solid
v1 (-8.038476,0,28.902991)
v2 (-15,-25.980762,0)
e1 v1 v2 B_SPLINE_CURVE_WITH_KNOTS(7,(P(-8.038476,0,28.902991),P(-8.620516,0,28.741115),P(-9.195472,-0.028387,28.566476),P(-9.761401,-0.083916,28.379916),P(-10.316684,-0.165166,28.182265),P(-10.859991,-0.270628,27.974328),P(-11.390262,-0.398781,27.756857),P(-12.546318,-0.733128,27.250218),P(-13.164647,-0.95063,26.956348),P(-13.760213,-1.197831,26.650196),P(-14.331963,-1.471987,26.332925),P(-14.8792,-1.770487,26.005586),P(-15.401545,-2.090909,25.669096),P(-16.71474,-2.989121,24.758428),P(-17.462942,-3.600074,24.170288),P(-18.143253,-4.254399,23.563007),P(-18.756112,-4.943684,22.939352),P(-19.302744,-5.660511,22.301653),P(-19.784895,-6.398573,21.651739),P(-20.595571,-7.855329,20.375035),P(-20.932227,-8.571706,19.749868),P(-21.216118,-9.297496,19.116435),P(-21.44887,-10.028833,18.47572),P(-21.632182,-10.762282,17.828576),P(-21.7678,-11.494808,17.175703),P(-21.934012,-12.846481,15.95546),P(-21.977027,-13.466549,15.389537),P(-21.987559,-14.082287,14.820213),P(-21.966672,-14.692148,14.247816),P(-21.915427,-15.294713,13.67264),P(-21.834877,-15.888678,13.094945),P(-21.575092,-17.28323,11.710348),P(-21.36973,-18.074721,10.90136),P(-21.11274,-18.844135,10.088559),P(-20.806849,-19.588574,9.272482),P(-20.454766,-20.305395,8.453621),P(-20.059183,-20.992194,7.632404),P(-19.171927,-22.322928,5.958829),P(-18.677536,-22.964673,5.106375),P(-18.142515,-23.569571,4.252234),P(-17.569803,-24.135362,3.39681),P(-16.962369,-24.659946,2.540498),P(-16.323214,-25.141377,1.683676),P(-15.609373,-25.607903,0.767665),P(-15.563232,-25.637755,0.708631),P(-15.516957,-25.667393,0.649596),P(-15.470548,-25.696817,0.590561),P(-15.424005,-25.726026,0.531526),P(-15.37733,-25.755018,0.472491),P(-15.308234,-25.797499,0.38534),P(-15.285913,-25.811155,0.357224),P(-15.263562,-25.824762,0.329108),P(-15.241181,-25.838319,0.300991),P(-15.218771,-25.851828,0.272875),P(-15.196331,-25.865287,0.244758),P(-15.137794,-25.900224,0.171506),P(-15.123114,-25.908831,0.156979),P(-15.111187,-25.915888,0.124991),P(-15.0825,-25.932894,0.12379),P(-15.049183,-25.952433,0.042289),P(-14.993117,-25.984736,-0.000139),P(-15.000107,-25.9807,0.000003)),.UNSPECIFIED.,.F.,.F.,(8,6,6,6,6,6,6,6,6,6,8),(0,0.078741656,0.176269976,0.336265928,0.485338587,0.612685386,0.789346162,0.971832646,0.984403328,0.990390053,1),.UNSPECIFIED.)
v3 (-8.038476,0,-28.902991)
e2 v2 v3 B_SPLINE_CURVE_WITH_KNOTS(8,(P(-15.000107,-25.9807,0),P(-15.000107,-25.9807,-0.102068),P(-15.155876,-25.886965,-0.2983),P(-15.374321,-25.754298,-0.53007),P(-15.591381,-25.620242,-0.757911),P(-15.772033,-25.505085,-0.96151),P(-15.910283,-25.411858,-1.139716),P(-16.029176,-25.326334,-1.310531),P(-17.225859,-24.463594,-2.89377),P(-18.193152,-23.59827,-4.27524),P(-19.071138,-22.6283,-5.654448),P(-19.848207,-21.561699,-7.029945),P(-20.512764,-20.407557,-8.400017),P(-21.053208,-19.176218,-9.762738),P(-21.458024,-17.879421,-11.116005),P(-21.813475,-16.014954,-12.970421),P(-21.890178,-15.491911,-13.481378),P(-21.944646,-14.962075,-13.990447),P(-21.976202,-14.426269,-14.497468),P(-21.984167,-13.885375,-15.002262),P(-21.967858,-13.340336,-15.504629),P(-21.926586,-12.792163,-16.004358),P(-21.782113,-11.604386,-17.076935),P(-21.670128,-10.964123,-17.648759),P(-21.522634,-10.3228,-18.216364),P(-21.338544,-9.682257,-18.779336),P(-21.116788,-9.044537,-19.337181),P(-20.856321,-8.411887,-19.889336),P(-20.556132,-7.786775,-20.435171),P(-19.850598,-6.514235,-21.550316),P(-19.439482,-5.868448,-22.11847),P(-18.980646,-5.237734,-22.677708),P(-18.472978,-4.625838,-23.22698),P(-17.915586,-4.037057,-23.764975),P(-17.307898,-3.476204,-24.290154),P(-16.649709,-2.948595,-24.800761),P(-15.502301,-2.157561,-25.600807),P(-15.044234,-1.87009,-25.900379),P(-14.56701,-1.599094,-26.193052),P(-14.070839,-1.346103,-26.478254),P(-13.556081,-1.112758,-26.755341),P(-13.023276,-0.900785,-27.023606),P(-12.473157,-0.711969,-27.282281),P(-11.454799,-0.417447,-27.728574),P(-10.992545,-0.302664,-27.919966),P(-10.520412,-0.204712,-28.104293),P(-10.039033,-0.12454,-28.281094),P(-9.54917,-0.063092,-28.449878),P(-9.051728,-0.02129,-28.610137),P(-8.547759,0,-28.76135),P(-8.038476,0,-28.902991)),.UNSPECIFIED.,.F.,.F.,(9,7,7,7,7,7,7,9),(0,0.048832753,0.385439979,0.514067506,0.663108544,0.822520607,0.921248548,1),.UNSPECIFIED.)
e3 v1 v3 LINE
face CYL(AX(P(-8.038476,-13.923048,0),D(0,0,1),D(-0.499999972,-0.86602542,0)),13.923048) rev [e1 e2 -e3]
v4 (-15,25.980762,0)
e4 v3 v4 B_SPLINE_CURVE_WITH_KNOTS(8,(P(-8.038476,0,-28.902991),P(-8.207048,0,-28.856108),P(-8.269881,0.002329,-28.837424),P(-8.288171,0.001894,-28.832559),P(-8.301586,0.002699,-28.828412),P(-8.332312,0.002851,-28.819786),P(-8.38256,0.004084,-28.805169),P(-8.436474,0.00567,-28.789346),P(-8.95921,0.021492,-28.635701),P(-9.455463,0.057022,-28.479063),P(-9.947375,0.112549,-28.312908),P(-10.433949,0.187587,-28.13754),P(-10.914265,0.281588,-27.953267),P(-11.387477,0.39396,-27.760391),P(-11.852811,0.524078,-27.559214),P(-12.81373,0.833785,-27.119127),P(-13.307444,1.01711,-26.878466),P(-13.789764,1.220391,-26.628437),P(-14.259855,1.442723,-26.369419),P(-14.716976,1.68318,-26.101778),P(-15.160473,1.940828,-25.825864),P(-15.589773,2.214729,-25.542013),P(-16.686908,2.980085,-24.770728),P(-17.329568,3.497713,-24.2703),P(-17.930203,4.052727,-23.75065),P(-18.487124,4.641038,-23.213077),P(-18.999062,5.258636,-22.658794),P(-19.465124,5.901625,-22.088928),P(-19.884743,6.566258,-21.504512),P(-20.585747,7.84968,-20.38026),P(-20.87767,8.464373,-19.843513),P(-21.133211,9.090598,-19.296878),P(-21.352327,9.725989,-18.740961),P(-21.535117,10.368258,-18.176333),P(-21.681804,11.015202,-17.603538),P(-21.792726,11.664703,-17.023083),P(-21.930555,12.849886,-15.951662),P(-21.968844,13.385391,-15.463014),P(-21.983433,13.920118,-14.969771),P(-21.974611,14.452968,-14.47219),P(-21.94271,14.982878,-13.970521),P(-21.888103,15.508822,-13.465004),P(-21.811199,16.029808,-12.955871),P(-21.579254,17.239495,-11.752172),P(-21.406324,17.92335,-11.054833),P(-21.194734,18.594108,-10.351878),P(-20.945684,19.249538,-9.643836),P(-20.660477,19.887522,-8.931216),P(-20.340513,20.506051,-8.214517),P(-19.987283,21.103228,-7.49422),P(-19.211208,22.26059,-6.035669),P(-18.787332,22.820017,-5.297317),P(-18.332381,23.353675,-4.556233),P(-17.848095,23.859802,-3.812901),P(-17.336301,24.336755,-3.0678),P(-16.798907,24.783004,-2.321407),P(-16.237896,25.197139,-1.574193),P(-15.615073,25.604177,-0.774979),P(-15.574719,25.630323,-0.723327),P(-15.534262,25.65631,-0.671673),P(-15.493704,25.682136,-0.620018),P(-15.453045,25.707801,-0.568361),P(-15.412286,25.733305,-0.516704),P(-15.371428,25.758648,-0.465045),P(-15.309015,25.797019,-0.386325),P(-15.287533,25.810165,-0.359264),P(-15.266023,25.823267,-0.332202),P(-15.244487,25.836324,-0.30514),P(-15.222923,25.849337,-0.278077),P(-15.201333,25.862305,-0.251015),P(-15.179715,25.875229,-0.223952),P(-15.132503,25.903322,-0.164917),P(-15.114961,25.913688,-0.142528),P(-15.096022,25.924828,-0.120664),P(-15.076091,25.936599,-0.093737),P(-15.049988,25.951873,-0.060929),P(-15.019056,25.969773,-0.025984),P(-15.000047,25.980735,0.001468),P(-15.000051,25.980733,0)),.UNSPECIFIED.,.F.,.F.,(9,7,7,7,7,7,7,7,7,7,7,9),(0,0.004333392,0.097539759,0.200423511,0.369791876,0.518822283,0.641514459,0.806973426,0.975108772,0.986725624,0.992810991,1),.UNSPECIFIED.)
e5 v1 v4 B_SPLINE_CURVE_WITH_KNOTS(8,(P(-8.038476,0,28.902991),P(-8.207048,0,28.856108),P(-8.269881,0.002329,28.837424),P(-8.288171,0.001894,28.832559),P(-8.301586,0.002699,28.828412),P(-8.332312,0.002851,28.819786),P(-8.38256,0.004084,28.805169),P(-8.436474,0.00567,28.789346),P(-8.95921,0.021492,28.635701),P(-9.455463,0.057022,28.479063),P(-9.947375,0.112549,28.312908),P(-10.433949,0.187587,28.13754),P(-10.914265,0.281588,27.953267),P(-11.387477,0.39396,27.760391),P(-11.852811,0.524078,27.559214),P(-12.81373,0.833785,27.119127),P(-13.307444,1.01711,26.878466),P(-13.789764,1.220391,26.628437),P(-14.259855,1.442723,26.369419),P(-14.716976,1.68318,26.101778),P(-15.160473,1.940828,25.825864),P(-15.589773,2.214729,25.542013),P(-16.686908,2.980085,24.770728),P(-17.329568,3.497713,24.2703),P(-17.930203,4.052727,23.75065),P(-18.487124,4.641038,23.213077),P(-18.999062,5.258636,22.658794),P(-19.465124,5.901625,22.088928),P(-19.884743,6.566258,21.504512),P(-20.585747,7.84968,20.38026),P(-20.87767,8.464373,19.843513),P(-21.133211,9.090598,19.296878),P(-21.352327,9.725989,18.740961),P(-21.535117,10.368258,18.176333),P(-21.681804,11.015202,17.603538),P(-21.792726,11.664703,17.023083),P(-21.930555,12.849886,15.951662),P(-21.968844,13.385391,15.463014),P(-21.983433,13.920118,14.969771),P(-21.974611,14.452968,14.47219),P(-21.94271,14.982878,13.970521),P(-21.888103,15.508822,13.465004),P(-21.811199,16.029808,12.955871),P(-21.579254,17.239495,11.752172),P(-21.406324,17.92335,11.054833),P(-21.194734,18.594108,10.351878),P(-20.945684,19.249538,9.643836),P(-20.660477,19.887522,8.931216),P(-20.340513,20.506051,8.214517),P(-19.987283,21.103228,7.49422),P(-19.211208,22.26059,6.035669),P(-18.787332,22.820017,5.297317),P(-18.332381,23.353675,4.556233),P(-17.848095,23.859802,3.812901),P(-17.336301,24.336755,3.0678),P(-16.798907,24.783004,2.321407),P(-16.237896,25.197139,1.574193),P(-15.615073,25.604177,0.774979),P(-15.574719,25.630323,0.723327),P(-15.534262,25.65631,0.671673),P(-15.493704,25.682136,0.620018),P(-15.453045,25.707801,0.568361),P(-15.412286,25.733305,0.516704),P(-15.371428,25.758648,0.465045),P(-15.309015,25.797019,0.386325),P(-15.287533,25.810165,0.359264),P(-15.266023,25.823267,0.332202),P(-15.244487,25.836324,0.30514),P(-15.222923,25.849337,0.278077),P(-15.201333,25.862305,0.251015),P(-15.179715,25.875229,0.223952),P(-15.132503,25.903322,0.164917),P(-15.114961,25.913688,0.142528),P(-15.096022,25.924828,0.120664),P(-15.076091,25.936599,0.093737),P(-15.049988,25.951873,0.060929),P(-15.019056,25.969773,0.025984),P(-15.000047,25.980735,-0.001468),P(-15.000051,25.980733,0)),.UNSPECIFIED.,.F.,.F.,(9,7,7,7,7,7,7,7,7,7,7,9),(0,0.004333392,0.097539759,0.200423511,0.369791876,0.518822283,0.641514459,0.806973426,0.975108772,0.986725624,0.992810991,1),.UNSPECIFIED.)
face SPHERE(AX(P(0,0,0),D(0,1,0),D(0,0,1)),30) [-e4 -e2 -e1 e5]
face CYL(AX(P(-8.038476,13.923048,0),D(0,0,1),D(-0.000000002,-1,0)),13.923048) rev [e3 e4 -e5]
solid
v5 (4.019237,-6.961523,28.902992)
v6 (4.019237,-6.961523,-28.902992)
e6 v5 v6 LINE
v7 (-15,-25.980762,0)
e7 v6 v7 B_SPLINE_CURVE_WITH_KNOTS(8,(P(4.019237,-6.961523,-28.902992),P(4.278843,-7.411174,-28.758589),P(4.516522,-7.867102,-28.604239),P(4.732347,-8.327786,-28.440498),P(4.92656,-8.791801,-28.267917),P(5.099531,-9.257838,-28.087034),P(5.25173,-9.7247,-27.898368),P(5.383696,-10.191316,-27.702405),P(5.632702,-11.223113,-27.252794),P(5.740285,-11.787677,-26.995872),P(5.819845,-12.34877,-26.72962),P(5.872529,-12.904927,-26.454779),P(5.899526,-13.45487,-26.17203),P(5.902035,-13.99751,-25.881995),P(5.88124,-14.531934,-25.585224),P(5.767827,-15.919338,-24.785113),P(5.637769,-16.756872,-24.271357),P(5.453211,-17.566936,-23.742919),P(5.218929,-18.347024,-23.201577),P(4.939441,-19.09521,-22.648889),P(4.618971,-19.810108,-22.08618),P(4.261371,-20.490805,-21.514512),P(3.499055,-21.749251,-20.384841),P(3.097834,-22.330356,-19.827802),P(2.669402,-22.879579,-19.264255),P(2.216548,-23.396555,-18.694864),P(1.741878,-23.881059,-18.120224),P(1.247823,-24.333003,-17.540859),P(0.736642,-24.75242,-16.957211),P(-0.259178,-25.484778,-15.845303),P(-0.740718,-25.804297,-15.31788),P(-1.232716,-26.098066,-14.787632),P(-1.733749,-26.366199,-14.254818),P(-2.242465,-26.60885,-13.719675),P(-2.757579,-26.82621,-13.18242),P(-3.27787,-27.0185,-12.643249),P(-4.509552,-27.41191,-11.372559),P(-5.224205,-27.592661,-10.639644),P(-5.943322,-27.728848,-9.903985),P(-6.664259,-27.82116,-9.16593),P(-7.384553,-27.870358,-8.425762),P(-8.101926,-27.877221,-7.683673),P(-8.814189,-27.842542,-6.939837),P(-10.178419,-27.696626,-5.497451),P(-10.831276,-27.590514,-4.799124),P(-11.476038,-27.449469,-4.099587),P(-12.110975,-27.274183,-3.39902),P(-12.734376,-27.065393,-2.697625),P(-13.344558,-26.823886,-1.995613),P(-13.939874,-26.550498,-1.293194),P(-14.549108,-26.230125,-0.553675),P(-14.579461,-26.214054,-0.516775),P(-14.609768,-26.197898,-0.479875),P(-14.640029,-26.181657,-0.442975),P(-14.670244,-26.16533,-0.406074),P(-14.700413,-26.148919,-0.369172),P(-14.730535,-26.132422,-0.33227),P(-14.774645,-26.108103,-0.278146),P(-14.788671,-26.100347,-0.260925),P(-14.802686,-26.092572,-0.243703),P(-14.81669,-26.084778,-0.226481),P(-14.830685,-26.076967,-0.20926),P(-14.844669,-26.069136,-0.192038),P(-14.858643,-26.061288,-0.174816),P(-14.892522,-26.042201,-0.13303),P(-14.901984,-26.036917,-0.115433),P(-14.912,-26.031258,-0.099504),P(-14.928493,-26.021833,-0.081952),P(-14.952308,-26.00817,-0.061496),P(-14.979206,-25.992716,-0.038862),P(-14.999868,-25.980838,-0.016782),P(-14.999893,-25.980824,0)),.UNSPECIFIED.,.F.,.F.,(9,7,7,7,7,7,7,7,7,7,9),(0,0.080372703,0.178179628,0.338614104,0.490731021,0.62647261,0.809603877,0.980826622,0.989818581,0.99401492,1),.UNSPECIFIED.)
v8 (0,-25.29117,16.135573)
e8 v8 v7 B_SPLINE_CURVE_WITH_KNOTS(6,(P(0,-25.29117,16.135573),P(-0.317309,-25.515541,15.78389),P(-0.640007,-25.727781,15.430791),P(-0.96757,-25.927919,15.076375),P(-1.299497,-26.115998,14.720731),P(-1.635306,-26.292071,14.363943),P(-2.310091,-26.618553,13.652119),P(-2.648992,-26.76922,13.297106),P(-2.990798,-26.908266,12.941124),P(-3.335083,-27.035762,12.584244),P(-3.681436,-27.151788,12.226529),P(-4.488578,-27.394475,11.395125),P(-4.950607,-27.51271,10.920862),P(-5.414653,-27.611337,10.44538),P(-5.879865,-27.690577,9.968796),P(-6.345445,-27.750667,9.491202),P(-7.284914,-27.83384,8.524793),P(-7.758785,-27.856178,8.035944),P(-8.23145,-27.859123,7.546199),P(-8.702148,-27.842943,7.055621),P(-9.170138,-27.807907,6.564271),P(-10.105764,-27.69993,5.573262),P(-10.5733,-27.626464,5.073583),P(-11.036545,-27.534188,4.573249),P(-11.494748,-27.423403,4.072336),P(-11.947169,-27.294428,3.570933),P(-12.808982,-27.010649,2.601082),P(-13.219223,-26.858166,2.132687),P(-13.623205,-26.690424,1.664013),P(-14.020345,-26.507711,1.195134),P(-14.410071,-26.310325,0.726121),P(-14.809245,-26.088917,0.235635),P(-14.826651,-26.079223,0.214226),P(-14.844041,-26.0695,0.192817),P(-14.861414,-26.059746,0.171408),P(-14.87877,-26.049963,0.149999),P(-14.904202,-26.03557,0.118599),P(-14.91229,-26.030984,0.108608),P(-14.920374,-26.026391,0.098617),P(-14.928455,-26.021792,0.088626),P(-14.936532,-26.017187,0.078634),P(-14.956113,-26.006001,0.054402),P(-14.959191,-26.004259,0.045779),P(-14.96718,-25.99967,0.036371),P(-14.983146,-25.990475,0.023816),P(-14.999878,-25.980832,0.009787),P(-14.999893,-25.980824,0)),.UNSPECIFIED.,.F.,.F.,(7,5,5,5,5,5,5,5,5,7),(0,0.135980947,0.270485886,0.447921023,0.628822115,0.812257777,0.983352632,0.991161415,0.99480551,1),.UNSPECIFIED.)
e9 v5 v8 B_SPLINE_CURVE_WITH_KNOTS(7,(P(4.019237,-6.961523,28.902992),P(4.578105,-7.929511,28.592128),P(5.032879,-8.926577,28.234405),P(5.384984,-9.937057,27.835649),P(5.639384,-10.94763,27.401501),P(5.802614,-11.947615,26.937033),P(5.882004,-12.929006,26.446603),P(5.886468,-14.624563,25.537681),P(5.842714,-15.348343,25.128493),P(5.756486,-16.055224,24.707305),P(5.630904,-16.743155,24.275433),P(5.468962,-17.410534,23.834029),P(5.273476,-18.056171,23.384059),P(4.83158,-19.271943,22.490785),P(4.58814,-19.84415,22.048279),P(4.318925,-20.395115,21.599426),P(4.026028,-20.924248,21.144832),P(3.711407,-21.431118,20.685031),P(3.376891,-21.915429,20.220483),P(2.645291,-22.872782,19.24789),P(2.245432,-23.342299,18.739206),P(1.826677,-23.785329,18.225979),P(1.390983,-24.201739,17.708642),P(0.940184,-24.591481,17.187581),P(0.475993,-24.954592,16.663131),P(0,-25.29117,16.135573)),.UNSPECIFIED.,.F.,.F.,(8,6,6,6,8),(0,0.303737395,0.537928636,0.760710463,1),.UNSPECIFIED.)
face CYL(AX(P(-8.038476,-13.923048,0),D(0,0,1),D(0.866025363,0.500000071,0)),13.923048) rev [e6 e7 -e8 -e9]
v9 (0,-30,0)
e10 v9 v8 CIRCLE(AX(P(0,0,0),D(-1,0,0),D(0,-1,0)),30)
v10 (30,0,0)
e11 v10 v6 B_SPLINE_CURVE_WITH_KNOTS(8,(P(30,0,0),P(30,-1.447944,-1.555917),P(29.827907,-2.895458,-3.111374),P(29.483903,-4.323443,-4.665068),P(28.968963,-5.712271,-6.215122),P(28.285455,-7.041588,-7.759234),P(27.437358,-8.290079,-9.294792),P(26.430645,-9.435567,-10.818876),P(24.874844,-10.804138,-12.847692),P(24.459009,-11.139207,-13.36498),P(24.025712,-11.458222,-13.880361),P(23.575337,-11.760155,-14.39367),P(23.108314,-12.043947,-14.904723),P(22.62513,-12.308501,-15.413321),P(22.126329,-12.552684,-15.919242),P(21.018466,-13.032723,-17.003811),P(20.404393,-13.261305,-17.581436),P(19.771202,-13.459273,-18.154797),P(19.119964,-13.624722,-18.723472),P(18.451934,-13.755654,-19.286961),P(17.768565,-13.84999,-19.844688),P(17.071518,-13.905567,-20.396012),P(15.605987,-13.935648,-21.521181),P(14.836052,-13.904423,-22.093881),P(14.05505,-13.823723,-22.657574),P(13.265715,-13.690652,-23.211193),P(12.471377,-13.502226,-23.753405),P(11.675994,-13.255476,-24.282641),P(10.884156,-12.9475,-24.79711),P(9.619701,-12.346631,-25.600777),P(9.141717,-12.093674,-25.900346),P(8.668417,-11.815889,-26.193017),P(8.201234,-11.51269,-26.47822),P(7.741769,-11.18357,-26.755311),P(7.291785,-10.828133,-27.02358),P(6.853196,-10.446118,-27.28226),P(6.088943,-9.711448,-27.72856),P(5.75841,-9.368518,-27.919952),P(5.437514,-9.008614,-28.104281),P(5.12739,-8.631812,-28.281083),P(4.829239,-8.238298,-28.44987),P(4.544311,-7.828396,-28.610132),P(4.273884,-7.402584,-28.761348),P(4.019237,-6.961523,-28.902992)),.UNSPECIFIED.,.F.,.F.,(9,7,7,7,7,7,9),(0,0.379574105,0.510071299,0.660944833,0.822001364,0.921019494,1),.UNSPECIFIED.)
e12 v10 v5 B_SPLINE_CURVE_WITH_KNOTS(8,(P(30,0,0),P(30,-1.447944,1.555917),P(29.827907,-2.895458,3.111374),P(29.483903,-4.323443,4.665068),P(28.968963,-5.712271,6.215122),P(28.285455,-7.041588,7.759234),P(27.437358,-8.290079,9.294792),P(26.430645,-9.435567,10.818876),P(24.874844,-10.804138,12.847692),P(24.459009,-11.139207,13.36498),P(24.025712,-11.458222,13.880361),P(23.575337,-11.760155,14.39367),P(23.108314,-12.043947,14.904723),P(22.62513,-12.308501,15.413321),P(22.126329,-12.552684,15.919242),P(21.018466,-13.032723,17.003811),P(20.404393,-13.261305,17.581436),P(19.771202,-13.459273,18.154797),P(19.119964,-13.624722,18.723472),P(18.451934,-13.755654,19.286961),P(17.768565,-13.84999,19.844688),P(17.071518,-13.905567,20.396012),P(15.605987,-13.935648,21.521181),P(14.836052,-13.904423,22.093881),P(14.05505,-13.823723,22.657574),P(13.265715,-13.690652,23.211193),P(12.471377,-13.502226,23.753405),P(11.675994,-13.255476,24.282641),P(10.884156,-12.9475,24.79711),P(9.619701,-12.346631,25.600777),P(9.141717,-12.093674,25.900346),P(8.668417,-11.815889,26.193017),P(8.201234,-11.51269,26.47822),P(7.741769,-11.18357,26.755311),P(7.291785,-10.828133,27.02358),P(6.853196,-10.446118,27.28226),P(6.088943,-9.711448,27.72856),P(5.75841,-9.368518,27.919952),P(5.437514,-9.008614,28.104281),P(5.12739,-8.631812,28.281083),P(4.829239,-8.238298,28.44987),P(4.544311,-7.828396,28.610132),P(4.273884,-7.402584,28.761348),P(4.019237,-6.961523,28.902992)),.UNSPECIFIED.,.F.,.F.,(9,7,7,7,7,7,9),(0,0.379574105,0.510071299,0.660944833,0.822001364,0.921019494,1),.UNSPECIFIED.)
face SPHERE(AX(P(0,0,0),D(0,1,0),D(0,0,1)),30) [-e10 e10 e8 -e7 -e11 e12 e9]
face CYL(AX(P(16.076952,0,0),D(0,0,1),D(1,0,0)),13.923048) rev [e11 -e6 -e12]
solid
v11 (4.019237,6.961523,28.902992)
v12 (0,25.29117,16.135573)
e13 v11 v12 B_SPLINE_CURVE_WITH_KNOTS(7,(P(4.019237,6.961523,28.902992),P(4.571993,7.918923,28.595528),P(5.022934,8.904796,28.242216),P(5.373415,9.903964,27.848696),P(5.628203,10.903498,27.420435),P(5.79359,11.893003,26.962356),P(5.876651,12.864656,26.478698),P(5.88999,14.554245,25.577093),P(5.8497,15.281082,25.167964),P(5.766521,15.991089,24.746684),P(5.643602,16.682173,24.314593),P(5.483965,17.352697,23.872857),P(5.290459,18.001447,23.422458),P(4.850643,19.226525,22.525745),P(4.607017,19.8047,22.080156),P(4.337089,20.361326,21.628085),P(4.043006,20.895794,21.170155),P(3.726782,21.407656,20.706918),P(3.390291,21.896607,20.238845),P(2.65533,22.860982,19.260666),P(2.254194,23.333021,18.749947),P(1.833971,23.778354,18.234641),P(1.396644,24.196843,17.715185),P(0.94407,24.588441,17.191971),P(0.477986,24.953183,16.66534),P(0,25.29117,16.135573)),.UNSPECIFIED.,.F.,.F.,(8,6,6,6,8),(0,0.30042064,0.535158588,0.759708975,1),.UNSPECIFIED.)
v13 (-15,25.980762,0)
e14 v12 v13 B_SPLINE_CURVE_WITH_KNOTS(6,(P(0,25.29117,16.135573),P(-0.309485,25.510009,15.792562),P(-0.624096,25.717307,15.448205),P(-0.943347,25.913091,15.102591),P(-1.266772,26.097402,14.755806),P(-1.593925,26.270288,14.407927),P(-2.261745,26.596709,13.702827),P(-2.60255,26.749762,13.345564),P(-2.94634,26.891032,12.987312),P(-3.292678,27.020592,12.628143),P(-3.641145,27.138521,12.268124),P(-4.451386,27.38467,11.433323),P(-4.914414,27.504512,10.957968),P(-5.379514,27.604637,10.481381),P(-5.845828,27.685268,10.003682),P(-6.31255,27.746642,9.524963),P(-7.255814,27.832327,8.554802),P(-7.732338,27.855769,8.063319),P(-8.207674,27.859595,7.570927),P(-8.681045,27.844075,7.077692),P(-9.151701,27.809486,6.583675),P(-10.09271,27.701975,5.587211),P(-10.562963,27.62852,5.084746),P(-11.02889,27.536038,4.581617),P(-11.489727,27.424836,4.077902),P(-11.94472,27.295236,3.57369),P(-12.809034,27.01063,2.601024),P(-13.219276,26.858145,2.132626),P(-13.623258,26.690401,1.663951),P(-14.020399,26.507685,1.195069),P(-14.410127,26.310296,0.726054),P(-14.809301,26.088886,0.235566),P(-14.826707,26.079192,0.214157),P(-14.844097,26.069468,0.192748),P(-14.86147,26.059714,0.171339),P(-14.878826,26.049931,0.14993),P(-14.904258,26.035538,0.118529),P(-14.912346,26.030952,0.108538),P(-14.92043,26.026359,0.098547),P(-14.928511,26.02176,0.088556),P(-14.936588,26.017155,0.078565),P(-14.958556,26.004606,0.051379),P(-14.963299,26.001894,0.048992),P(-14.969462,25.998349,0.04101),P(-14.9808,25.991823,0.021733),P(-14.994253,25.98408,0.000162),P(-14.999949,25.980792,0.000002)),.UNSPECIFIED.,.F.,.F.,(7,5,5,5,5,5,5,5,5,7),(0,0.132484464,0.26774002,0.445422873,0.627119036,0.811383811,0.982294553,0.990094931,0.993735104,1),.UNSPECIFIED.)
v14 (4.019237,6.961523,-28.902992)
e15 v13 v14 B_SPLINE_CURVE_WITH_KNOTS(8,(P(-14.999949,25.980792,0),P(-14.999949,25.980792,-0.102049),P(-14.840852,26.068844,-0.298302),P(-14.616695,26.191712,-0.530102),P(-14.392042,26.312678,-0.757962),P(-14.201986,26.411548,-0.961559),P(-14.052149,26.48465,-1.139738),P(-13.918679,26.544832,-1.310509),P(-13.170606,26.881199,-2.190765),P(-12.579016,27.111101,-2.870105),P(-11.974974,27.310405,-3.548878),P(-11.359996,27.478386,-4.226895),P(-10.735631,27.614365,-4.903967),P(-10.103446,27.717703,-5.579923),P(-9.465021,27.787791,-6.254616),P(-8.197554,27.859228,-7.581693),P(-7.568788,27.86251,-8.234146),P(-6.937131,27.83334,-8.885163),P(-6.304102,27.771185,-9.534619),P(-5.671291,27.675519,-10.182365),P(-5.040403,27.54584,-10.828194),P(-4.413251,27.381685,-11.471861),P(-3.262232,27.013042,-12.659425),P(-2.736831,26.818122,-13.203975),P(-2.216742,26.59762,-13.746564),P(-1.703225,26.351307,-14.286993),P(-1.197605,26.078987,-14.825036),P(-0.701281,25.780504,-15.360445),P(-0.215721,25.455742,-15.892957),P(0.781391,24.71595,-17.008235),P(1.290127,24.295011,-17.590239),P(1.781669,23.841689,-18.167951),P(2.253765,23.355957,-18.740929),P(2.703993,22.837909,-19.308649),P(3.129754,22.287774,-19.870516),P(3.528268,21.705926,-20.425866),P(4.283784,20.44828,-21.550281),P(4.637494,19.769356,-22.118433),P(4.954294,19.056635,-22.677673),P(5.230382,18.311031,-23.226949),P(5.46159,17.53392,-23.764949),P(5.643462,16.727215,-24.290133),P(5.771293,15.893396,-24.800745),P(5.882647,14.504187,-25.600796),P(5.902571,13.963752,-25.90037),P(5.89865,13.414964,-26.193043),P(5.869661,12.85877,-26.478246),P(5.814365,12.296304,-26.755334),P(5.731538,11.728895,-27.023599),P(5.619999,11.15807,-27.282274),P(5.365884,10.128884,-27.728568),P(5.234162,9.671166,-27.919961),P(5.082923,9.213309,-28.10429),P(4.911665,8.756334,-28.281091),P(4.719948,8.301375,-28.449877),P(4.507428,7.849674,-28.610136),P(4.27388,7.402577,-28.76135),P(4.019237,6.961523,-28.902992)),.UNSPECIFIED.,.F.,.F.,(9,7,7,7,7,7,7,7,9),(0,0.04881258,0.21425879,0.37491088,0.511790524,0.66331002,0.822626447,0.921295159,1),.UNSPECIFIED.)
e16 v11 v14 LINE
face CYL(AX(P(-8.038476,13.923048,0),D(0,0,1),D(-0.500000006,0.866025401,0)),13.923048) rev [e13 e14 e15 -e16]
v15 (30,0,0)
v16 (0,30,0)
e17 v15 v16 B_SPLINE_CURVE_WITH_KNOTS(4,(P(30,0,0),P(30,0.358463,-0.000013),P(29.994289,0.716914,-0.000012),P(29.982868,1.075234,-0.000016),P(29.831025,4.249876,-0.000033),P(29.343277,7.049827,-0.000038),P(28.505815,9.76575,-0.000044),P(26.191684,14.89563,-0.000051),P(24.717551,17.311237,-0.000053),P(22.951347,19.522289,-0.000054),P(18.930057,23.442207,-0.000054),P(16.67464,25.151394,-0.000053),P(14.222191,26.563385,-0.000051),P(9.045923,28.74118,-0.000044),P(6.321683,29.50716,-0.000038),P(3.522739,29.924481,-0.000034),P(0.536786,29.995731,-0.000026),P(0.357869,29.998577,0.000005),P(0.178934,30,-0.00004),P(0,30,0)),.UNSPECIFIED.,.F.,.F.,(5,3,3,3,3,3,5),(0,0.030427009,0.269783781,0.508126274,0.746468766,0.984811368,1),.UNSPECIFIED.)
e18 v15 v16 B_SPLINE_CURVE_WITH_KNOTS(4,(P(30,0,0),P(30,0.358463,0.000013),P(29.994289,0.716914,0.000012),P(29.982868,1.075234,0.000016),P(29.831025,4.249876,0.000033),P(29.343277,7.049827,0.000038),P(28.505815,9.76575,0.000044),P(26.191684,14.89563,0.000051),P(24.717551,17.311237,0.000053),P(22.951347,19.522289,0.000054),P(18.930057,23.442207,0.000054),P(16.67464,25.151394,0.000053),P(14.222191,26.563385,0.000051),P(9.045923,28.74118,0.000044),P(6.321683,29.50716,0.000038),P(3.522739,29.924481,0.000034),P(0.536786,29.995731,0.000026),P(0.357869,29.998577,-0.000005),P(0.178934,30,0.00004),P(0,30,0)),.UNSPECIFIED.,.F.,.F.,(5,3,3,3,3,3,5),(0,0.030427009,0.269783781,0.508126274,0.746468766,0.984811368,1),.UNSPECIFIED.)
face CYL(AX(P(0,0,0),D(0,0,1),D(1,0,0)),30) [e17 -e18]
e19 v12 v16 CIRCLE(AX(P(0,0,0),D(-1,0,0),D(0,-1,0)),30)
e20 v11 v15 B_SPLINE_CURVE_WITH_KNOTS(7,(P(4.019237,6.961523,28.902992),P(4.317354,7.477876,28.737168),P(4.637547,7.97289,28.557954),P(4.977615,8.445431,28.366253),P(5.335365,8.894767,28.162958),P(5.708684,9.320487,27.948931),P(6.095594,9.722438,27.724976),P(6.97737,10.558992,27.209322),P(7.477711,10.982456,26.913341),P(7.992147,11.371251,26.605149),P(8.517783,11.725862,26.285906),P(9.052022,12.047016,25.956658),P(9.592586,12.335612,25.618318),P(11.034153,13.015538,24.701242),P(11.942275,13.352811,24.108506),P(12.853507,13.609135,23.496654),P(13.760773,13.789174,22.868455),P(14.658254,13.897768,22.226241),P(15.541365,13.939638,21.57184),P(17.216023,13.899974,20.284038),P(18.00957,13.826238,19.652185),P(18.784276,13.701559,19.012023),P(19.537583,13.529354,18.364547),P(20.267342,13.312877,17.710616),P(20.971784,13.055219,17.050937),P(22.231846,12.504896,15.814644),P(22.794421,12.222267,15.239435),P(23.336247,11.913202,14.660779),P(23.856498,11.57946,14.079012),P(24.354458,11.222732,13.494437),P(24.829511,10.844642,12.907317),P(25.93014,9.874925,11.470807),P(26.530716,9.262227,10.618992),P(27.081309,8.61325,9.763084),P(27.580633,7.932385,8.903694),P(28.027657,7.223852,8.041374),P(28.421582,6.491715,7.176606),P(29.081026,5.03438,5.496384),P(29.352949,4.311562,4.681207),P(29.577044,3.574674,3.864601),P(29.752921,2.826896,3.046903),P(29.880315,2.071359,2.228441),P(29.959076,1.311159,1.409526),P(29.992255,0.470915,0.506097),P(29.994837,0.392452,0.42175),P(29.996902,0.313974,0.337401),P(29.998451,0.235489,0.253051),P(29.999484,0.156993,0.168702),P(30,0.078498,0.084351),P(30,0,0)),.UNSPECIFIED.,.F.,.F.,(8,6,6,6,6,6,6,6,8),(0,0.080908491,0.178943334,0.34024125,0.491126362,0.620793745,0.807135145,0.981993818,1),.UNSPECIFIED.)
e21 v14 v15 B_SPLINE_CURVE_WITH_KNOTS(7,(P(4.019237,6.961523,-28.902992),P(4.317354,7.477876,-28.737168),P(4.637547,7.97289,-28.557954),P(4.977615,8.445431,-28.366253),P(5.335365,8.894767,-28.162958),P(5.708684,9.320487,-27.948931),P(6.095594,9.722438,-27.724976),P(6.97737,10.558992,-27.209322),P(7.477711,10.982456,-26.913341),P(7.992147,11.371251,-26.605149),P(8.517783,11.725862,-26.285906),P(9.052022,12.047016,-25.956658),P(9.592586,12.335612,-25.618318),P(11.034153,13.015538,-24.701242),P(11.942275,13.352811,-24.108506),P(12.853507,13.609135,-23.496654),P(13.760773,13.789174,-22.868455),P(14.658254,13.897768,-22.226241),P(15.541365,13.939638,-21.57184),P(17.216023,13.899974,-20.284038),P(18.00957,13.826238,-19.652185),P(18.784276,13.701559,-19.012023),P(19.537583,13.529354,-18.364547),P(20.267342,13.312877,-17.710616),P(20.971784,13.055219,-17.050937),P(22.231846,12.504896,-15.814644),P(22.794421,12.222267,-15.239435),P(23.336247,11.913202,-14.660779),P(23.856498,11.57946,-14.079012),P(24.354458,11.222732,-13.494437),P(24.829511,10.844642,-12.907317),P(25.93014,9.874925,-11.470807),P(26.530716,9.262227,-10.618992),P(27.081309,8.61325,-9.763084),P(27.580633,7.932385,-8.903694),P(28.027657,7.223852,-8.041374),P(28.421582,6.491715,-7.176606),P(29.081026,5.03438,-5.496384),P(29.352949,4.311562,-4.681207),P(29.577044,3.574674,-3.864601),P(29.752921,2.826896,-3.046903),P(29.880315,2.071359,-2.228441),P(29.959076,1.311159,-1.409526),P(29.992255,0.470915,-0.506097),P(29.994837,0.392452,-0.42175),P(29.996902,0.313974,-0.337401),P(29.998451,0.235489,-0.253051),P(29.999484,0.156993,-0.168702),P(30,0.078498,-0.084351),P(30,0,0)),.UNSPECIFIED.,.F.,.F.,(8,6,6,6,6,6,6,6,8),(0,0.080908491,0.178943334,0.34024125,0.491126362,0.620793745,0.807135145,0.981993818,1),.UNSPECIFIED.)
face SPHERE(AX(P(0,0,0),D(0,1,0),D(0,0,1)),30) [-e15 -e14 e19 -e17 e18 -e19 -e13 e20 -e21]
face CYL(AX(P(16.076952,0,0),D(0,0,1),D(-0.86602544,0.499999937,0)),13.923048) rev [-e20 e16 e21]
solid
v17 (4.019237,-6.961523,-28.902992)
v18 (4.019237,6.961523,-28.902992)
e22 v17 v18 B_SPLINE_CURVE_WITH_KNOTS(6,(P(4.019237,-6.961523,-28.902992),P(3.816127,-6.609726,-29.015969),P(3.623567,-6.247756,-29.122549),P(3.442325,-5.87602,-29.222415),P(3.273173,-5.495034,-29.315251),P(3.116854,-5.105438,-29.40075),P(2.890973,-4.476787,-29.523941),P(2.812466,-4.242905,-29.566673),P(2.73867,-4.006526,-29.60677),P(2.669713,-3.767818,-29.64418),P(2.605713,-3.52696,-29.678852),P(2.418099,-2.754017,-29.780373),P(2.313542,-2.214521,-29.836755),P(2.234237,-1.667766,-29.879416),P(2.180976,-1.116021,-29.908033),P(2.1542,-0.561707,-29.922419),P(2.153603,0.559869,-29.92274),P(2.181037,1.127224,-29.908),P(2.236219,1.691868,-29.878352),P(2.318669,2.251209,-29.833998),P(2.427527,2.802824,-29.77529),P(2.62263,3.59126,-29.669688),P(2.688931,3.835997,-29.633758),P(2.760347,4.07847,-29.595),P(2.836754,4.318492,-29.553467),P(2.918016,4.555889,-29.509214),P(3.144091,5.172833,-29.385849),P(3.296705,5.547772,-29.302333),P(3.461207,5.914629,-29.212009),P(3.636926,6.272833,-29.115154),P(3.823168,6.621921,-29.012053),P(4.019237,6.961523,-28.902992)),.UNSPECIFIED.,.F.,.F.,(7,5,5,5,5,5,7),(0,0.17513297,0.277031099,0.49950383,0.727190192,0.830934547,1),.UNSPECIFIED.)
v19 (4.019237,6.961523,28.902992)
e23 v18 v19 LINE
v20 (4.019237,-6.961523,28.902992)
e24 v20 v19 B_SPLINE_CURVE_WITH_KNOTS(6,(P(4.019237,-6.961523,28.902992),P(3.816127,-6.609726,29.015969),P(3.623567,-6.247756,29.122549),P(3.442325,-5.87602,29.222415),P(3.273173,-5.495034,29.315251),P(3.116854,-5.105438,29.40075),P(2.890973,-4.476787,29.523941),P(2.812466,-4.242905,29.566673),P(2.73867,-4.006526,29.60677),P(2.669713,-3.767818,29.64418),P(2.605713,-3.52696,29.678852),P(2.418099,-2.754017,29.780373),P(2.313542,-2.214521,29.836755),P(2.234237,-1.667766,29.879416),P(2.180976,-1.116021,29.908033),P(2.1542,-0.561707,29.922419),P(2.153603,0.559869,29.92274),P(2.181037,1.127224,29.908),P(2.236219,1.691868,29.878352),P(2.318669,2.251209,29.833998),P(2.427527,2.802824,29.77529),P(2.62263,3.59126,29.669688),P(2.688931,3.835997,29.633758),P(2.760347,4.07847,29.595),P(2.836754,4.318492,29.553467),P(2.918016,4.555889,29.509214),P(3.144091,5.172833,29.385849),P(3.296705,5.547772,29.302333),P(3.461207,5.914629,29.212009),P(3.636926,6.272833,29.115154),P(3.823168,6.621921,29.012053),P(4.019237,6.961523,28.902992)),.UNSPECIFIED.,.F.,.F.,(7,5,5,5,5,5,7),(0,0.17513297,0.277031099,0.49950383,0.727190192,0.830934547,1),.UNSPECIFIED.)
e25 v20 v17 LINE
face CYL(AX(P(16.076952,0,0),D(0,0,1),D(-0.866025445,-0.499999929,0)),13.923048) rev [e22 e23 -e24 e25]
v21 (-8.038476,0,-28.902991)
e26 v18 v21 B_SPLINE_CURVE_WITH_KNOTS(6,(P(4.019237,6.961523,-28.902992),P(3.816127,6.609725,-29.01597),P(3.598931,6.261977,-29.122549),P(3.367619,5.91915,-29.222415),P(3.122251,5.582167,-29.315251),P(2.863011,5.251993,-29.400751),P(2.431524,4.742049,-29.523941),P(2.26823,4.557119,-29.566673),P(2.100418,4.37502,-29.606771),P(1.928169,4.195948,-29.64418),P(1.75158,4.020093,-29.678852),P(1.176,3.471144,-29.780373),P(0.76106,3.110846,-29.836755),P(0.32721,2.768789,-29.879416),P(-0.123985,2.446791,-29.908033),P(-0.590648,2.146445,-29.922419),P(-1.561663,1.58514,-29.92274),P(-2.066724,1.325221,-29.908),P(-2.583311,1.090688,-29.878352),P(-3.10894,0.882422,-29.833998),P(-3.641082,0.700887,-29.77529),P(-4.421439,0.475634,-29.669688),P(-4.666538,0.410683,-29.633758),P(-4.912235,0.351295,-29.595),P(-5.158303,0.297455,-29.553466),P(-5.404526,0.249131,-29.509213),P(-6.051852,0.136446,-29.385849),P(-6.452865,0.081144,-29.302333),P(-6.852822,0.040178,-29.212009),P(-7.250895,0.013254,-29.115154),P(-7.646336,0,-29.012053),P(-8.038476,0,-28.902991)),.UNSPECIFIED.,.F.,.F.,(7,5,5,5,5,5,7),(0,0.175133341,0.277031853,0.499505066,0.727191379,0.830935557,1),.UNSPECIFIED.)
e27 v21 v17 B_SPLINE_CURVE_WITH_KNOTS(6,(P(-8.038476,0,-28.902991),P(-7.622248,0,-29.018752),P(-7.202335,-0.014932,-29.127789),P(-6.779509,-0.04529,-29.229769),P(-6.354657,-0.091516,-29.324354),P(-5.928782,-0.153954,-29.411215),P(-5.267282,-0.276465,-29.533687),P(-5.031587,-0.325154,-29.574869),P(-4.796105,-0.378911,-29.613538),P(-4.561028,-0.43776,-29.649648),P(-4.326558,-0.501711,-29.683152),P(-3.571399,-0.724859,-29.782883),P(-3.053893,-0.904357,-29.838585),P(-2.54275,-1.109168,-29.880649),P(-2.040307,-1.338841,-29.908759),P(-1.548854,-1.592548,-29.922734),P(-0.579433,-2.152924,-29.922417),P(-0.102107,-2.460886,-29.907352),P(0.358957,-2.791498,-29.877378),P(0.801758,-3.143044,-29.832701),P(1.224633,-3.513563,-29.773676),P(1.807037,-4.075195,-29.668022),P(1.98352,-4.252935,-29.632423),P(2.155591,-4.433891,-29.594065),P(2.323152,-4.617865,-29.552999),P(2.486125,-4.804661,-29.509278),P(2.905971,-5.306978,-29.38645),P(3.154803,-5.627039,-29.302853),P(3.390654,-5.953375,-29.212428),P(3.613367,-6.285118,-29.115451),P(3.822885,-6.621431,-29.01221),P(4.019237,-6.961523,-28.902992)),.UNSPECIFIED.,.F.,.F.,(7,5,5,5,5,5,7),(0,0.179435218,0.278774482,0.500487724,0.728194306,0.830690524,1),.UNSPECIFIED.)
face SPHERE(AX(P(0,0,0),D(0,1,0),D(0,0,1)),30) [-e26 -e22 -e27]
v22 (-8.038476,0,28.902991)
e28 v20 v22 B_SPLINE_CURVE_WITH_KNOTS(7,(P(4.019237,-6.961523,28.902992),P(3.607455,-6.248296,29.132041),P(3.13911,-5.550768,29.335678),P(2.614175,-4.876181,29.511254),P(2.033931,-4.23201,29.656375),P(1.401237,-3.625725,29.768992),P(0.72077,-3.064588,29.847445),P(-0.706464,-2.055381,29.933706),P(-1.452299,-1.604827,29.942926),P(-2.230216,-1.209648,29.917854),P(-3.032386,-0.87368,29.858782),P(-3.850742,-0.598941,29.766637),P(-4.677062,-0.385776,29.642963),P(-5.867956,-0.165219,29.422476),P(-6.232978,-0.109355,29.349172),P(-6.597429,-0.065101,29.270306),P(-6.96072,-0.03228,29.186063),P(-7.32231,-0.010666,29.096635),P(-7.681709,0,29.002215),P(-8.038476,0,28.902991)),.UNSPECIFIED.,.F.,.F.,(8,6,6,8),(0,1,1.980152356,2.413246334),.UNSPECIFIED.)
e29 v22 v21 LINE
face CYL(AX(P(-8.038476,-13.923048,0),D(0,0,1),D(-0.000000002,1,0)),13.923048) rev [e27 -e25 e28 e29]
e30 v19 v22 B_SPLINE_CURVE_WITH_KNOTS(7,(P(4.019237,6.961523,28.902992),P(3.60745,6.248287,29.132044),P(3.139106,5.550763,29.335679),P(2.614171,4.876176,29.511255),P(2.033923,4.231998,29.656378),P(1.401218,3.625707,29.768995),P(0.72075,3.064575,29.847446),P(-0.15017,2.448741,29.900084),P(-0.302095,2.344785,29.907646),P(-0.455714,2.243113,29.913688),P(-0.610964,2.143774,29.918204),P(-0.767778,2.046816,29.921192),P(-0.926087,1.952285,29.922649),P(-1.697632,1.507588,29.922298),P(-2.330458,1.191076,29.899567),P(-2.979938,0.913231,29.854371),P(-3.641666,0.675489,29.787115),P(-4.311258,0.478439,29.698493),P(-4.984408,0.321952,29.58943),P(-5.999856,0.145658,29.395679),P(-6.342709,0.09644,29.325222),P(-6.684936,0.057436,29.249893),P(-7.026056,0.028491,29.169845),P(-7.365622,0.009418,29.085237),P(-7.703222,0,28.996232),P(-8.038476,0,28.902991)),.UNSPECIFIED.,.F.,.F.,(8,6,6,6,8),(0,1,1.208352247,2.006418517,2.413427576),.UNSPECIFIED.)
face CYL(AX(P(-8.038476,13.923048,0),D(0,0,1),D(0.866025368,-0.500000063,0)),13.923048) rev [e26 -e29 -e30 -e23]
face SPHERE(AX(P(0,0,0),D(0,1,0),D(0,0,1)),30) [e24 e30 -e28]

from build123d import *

# Parameters (mm, degrees)
EXTRUDE_1_DEPTH   = 50
EXTRUDE_1_2_DEPTH = 50
EXTRUDE_1_3_DEPTH = 50
EXTRUDE_1_4_DEPTH = 50


with BuildPart() as part:
    # 草图2 → 凸台-拉伸1 (new, symmetric)
    with BuildSketch(Plane.XY):
        with BuildLine():
            ThreePointArc((4.019237383, 6.961523355), (19.680501166, 13.448632213), (30, 0))
            ThreePointArc((30, 0), (14.999999961, 25.980762136), (-15.000000079, 25.980762068))
            ThreePointArc((-15.000000079, 25.980762068), (1.806606527, 23.768130107), (4.019237383, 6.961523355))
        make_face()
    extrude(amount=EXTRUDE_1_DEPTH, both=True)


with BuildPart() as body_2:
    # 草图2 → Extrude 1 2 (new, symmetric)
    with BuildSketch(Plane.XY):
        with BuildLine():
            ThreePointArc((-14.999999617, -25.980762335), (15.000000192, -25.980762003), (30, 0))
            ThreePointArc((30, 0), (19.680501101, -13.44863223), (4.019237316, -6.96152324))
            ThreePointArc((4.019237316, -6.96152324), (1.806606763, -23.768129871), (-14.999999617, -25.980762335))
        make_face()
    extrude(amount=EXTRUDE_1_2_DEPTH, both=True)


with BuildPart() as body_3:
    # 草图2 → Extrude 1 3 (new, symmetric)
    with BuildSketch(Plane.XY):
        with BuildLine():
            ThreePointArc((-8.038475803, 0), (-21.487107848, 10.319498319), (-15.000000079, 25.980762068))
            ThreePointArc((-15.000000079, 25.980762068), (-30, -2.67e-07), (-14.999999617, -25.980762335))
            ThreePointArc((-14.999999617, -25.980762335), (-21.487107917, -10.319498576), (-8.038475803, 0))
        make_face()
    extrude(amount=EXTRUDE_1_3_DEPTH, both=True)


with BuildPart() as body_4:
    # 草图2 → Extrude 1 4 (new, symmetric)
    with BuildSketch(Plane.XY):
        with BuildLine():
            ThreePointArc((4.019237316, -6.96152324), (2.153903092, 6.7e-08), (4.019237383, 6.961523355))
            ThreePointArc((4.019237383, 6.961523355), (-1.076951995, 1.865334536), (-8.038475803, 0))
            ThreePointArc((-8.038475803, 0), (-1.076952053, -1.865334502), (4.019237316, -6.96152324))
        make_face()
    extrude(amount=EXTRUDE_1_4_DEPTH, both=True)


with BuildPart() as cut_revolve_2_tool:
    # 草图3 → 切除-旋转2 (revolve)
    with BuildSketch(Plane(origin=(0, 0, 0), x_dir=(0, 0, -1), z_dir=(1, 0, 0))):
        with BuildLine():
            Line((0, 30), (0, 36.758603044))
            Line((0, 36.758603044), (-96.597700894, 36.758603044))
            Line((-96.597700894, 36.758603044), (-96.597700894, -39.921748707))
            Line((-96.597700894, -39.921748707), (0, -41.427468265))
            Line((0, -41.427468265), (0, -30))
            ThreePointArc((0, -30), (-30, 0), (0, 30))
        make_face()
    revolve(axis=Axis((0, 30, 0), (0, 1, 0)))


with BuildPart() as part_1:
    add(part.part)

    # 切除-旋转2: cut by cut_revolve_2_tool
    add(cut_revolve_2_tool.part, mode=Mode.SUBTRACT)


with BuildPart() as body_2_1:
    add(body_2.part)

    # 切除-旋转2: cut by cut_revolve_2_tool
    add(cut_revolve_2_tool.part, mode=Mode.SUBTRACT)


with BuildPart() as body_3_1:
    add(body_3.part)

    # 切除-旋转2: cut by cut_revolve_2_tool
    add(cut_revolve_2_tool.part, mode=Mode.SUBTRACT)


with BuildPart() as body_4_1:
    add(body_4.part)

    # 切除-旋转2: cut by cut_revolve_2_tool
    add(cut_revolve_2_tool.part, mode=Mode.SUBTRACT)


solid = Compound([part_1.part, body_2_1.part, body_3_1.part, body_4_1.part])
